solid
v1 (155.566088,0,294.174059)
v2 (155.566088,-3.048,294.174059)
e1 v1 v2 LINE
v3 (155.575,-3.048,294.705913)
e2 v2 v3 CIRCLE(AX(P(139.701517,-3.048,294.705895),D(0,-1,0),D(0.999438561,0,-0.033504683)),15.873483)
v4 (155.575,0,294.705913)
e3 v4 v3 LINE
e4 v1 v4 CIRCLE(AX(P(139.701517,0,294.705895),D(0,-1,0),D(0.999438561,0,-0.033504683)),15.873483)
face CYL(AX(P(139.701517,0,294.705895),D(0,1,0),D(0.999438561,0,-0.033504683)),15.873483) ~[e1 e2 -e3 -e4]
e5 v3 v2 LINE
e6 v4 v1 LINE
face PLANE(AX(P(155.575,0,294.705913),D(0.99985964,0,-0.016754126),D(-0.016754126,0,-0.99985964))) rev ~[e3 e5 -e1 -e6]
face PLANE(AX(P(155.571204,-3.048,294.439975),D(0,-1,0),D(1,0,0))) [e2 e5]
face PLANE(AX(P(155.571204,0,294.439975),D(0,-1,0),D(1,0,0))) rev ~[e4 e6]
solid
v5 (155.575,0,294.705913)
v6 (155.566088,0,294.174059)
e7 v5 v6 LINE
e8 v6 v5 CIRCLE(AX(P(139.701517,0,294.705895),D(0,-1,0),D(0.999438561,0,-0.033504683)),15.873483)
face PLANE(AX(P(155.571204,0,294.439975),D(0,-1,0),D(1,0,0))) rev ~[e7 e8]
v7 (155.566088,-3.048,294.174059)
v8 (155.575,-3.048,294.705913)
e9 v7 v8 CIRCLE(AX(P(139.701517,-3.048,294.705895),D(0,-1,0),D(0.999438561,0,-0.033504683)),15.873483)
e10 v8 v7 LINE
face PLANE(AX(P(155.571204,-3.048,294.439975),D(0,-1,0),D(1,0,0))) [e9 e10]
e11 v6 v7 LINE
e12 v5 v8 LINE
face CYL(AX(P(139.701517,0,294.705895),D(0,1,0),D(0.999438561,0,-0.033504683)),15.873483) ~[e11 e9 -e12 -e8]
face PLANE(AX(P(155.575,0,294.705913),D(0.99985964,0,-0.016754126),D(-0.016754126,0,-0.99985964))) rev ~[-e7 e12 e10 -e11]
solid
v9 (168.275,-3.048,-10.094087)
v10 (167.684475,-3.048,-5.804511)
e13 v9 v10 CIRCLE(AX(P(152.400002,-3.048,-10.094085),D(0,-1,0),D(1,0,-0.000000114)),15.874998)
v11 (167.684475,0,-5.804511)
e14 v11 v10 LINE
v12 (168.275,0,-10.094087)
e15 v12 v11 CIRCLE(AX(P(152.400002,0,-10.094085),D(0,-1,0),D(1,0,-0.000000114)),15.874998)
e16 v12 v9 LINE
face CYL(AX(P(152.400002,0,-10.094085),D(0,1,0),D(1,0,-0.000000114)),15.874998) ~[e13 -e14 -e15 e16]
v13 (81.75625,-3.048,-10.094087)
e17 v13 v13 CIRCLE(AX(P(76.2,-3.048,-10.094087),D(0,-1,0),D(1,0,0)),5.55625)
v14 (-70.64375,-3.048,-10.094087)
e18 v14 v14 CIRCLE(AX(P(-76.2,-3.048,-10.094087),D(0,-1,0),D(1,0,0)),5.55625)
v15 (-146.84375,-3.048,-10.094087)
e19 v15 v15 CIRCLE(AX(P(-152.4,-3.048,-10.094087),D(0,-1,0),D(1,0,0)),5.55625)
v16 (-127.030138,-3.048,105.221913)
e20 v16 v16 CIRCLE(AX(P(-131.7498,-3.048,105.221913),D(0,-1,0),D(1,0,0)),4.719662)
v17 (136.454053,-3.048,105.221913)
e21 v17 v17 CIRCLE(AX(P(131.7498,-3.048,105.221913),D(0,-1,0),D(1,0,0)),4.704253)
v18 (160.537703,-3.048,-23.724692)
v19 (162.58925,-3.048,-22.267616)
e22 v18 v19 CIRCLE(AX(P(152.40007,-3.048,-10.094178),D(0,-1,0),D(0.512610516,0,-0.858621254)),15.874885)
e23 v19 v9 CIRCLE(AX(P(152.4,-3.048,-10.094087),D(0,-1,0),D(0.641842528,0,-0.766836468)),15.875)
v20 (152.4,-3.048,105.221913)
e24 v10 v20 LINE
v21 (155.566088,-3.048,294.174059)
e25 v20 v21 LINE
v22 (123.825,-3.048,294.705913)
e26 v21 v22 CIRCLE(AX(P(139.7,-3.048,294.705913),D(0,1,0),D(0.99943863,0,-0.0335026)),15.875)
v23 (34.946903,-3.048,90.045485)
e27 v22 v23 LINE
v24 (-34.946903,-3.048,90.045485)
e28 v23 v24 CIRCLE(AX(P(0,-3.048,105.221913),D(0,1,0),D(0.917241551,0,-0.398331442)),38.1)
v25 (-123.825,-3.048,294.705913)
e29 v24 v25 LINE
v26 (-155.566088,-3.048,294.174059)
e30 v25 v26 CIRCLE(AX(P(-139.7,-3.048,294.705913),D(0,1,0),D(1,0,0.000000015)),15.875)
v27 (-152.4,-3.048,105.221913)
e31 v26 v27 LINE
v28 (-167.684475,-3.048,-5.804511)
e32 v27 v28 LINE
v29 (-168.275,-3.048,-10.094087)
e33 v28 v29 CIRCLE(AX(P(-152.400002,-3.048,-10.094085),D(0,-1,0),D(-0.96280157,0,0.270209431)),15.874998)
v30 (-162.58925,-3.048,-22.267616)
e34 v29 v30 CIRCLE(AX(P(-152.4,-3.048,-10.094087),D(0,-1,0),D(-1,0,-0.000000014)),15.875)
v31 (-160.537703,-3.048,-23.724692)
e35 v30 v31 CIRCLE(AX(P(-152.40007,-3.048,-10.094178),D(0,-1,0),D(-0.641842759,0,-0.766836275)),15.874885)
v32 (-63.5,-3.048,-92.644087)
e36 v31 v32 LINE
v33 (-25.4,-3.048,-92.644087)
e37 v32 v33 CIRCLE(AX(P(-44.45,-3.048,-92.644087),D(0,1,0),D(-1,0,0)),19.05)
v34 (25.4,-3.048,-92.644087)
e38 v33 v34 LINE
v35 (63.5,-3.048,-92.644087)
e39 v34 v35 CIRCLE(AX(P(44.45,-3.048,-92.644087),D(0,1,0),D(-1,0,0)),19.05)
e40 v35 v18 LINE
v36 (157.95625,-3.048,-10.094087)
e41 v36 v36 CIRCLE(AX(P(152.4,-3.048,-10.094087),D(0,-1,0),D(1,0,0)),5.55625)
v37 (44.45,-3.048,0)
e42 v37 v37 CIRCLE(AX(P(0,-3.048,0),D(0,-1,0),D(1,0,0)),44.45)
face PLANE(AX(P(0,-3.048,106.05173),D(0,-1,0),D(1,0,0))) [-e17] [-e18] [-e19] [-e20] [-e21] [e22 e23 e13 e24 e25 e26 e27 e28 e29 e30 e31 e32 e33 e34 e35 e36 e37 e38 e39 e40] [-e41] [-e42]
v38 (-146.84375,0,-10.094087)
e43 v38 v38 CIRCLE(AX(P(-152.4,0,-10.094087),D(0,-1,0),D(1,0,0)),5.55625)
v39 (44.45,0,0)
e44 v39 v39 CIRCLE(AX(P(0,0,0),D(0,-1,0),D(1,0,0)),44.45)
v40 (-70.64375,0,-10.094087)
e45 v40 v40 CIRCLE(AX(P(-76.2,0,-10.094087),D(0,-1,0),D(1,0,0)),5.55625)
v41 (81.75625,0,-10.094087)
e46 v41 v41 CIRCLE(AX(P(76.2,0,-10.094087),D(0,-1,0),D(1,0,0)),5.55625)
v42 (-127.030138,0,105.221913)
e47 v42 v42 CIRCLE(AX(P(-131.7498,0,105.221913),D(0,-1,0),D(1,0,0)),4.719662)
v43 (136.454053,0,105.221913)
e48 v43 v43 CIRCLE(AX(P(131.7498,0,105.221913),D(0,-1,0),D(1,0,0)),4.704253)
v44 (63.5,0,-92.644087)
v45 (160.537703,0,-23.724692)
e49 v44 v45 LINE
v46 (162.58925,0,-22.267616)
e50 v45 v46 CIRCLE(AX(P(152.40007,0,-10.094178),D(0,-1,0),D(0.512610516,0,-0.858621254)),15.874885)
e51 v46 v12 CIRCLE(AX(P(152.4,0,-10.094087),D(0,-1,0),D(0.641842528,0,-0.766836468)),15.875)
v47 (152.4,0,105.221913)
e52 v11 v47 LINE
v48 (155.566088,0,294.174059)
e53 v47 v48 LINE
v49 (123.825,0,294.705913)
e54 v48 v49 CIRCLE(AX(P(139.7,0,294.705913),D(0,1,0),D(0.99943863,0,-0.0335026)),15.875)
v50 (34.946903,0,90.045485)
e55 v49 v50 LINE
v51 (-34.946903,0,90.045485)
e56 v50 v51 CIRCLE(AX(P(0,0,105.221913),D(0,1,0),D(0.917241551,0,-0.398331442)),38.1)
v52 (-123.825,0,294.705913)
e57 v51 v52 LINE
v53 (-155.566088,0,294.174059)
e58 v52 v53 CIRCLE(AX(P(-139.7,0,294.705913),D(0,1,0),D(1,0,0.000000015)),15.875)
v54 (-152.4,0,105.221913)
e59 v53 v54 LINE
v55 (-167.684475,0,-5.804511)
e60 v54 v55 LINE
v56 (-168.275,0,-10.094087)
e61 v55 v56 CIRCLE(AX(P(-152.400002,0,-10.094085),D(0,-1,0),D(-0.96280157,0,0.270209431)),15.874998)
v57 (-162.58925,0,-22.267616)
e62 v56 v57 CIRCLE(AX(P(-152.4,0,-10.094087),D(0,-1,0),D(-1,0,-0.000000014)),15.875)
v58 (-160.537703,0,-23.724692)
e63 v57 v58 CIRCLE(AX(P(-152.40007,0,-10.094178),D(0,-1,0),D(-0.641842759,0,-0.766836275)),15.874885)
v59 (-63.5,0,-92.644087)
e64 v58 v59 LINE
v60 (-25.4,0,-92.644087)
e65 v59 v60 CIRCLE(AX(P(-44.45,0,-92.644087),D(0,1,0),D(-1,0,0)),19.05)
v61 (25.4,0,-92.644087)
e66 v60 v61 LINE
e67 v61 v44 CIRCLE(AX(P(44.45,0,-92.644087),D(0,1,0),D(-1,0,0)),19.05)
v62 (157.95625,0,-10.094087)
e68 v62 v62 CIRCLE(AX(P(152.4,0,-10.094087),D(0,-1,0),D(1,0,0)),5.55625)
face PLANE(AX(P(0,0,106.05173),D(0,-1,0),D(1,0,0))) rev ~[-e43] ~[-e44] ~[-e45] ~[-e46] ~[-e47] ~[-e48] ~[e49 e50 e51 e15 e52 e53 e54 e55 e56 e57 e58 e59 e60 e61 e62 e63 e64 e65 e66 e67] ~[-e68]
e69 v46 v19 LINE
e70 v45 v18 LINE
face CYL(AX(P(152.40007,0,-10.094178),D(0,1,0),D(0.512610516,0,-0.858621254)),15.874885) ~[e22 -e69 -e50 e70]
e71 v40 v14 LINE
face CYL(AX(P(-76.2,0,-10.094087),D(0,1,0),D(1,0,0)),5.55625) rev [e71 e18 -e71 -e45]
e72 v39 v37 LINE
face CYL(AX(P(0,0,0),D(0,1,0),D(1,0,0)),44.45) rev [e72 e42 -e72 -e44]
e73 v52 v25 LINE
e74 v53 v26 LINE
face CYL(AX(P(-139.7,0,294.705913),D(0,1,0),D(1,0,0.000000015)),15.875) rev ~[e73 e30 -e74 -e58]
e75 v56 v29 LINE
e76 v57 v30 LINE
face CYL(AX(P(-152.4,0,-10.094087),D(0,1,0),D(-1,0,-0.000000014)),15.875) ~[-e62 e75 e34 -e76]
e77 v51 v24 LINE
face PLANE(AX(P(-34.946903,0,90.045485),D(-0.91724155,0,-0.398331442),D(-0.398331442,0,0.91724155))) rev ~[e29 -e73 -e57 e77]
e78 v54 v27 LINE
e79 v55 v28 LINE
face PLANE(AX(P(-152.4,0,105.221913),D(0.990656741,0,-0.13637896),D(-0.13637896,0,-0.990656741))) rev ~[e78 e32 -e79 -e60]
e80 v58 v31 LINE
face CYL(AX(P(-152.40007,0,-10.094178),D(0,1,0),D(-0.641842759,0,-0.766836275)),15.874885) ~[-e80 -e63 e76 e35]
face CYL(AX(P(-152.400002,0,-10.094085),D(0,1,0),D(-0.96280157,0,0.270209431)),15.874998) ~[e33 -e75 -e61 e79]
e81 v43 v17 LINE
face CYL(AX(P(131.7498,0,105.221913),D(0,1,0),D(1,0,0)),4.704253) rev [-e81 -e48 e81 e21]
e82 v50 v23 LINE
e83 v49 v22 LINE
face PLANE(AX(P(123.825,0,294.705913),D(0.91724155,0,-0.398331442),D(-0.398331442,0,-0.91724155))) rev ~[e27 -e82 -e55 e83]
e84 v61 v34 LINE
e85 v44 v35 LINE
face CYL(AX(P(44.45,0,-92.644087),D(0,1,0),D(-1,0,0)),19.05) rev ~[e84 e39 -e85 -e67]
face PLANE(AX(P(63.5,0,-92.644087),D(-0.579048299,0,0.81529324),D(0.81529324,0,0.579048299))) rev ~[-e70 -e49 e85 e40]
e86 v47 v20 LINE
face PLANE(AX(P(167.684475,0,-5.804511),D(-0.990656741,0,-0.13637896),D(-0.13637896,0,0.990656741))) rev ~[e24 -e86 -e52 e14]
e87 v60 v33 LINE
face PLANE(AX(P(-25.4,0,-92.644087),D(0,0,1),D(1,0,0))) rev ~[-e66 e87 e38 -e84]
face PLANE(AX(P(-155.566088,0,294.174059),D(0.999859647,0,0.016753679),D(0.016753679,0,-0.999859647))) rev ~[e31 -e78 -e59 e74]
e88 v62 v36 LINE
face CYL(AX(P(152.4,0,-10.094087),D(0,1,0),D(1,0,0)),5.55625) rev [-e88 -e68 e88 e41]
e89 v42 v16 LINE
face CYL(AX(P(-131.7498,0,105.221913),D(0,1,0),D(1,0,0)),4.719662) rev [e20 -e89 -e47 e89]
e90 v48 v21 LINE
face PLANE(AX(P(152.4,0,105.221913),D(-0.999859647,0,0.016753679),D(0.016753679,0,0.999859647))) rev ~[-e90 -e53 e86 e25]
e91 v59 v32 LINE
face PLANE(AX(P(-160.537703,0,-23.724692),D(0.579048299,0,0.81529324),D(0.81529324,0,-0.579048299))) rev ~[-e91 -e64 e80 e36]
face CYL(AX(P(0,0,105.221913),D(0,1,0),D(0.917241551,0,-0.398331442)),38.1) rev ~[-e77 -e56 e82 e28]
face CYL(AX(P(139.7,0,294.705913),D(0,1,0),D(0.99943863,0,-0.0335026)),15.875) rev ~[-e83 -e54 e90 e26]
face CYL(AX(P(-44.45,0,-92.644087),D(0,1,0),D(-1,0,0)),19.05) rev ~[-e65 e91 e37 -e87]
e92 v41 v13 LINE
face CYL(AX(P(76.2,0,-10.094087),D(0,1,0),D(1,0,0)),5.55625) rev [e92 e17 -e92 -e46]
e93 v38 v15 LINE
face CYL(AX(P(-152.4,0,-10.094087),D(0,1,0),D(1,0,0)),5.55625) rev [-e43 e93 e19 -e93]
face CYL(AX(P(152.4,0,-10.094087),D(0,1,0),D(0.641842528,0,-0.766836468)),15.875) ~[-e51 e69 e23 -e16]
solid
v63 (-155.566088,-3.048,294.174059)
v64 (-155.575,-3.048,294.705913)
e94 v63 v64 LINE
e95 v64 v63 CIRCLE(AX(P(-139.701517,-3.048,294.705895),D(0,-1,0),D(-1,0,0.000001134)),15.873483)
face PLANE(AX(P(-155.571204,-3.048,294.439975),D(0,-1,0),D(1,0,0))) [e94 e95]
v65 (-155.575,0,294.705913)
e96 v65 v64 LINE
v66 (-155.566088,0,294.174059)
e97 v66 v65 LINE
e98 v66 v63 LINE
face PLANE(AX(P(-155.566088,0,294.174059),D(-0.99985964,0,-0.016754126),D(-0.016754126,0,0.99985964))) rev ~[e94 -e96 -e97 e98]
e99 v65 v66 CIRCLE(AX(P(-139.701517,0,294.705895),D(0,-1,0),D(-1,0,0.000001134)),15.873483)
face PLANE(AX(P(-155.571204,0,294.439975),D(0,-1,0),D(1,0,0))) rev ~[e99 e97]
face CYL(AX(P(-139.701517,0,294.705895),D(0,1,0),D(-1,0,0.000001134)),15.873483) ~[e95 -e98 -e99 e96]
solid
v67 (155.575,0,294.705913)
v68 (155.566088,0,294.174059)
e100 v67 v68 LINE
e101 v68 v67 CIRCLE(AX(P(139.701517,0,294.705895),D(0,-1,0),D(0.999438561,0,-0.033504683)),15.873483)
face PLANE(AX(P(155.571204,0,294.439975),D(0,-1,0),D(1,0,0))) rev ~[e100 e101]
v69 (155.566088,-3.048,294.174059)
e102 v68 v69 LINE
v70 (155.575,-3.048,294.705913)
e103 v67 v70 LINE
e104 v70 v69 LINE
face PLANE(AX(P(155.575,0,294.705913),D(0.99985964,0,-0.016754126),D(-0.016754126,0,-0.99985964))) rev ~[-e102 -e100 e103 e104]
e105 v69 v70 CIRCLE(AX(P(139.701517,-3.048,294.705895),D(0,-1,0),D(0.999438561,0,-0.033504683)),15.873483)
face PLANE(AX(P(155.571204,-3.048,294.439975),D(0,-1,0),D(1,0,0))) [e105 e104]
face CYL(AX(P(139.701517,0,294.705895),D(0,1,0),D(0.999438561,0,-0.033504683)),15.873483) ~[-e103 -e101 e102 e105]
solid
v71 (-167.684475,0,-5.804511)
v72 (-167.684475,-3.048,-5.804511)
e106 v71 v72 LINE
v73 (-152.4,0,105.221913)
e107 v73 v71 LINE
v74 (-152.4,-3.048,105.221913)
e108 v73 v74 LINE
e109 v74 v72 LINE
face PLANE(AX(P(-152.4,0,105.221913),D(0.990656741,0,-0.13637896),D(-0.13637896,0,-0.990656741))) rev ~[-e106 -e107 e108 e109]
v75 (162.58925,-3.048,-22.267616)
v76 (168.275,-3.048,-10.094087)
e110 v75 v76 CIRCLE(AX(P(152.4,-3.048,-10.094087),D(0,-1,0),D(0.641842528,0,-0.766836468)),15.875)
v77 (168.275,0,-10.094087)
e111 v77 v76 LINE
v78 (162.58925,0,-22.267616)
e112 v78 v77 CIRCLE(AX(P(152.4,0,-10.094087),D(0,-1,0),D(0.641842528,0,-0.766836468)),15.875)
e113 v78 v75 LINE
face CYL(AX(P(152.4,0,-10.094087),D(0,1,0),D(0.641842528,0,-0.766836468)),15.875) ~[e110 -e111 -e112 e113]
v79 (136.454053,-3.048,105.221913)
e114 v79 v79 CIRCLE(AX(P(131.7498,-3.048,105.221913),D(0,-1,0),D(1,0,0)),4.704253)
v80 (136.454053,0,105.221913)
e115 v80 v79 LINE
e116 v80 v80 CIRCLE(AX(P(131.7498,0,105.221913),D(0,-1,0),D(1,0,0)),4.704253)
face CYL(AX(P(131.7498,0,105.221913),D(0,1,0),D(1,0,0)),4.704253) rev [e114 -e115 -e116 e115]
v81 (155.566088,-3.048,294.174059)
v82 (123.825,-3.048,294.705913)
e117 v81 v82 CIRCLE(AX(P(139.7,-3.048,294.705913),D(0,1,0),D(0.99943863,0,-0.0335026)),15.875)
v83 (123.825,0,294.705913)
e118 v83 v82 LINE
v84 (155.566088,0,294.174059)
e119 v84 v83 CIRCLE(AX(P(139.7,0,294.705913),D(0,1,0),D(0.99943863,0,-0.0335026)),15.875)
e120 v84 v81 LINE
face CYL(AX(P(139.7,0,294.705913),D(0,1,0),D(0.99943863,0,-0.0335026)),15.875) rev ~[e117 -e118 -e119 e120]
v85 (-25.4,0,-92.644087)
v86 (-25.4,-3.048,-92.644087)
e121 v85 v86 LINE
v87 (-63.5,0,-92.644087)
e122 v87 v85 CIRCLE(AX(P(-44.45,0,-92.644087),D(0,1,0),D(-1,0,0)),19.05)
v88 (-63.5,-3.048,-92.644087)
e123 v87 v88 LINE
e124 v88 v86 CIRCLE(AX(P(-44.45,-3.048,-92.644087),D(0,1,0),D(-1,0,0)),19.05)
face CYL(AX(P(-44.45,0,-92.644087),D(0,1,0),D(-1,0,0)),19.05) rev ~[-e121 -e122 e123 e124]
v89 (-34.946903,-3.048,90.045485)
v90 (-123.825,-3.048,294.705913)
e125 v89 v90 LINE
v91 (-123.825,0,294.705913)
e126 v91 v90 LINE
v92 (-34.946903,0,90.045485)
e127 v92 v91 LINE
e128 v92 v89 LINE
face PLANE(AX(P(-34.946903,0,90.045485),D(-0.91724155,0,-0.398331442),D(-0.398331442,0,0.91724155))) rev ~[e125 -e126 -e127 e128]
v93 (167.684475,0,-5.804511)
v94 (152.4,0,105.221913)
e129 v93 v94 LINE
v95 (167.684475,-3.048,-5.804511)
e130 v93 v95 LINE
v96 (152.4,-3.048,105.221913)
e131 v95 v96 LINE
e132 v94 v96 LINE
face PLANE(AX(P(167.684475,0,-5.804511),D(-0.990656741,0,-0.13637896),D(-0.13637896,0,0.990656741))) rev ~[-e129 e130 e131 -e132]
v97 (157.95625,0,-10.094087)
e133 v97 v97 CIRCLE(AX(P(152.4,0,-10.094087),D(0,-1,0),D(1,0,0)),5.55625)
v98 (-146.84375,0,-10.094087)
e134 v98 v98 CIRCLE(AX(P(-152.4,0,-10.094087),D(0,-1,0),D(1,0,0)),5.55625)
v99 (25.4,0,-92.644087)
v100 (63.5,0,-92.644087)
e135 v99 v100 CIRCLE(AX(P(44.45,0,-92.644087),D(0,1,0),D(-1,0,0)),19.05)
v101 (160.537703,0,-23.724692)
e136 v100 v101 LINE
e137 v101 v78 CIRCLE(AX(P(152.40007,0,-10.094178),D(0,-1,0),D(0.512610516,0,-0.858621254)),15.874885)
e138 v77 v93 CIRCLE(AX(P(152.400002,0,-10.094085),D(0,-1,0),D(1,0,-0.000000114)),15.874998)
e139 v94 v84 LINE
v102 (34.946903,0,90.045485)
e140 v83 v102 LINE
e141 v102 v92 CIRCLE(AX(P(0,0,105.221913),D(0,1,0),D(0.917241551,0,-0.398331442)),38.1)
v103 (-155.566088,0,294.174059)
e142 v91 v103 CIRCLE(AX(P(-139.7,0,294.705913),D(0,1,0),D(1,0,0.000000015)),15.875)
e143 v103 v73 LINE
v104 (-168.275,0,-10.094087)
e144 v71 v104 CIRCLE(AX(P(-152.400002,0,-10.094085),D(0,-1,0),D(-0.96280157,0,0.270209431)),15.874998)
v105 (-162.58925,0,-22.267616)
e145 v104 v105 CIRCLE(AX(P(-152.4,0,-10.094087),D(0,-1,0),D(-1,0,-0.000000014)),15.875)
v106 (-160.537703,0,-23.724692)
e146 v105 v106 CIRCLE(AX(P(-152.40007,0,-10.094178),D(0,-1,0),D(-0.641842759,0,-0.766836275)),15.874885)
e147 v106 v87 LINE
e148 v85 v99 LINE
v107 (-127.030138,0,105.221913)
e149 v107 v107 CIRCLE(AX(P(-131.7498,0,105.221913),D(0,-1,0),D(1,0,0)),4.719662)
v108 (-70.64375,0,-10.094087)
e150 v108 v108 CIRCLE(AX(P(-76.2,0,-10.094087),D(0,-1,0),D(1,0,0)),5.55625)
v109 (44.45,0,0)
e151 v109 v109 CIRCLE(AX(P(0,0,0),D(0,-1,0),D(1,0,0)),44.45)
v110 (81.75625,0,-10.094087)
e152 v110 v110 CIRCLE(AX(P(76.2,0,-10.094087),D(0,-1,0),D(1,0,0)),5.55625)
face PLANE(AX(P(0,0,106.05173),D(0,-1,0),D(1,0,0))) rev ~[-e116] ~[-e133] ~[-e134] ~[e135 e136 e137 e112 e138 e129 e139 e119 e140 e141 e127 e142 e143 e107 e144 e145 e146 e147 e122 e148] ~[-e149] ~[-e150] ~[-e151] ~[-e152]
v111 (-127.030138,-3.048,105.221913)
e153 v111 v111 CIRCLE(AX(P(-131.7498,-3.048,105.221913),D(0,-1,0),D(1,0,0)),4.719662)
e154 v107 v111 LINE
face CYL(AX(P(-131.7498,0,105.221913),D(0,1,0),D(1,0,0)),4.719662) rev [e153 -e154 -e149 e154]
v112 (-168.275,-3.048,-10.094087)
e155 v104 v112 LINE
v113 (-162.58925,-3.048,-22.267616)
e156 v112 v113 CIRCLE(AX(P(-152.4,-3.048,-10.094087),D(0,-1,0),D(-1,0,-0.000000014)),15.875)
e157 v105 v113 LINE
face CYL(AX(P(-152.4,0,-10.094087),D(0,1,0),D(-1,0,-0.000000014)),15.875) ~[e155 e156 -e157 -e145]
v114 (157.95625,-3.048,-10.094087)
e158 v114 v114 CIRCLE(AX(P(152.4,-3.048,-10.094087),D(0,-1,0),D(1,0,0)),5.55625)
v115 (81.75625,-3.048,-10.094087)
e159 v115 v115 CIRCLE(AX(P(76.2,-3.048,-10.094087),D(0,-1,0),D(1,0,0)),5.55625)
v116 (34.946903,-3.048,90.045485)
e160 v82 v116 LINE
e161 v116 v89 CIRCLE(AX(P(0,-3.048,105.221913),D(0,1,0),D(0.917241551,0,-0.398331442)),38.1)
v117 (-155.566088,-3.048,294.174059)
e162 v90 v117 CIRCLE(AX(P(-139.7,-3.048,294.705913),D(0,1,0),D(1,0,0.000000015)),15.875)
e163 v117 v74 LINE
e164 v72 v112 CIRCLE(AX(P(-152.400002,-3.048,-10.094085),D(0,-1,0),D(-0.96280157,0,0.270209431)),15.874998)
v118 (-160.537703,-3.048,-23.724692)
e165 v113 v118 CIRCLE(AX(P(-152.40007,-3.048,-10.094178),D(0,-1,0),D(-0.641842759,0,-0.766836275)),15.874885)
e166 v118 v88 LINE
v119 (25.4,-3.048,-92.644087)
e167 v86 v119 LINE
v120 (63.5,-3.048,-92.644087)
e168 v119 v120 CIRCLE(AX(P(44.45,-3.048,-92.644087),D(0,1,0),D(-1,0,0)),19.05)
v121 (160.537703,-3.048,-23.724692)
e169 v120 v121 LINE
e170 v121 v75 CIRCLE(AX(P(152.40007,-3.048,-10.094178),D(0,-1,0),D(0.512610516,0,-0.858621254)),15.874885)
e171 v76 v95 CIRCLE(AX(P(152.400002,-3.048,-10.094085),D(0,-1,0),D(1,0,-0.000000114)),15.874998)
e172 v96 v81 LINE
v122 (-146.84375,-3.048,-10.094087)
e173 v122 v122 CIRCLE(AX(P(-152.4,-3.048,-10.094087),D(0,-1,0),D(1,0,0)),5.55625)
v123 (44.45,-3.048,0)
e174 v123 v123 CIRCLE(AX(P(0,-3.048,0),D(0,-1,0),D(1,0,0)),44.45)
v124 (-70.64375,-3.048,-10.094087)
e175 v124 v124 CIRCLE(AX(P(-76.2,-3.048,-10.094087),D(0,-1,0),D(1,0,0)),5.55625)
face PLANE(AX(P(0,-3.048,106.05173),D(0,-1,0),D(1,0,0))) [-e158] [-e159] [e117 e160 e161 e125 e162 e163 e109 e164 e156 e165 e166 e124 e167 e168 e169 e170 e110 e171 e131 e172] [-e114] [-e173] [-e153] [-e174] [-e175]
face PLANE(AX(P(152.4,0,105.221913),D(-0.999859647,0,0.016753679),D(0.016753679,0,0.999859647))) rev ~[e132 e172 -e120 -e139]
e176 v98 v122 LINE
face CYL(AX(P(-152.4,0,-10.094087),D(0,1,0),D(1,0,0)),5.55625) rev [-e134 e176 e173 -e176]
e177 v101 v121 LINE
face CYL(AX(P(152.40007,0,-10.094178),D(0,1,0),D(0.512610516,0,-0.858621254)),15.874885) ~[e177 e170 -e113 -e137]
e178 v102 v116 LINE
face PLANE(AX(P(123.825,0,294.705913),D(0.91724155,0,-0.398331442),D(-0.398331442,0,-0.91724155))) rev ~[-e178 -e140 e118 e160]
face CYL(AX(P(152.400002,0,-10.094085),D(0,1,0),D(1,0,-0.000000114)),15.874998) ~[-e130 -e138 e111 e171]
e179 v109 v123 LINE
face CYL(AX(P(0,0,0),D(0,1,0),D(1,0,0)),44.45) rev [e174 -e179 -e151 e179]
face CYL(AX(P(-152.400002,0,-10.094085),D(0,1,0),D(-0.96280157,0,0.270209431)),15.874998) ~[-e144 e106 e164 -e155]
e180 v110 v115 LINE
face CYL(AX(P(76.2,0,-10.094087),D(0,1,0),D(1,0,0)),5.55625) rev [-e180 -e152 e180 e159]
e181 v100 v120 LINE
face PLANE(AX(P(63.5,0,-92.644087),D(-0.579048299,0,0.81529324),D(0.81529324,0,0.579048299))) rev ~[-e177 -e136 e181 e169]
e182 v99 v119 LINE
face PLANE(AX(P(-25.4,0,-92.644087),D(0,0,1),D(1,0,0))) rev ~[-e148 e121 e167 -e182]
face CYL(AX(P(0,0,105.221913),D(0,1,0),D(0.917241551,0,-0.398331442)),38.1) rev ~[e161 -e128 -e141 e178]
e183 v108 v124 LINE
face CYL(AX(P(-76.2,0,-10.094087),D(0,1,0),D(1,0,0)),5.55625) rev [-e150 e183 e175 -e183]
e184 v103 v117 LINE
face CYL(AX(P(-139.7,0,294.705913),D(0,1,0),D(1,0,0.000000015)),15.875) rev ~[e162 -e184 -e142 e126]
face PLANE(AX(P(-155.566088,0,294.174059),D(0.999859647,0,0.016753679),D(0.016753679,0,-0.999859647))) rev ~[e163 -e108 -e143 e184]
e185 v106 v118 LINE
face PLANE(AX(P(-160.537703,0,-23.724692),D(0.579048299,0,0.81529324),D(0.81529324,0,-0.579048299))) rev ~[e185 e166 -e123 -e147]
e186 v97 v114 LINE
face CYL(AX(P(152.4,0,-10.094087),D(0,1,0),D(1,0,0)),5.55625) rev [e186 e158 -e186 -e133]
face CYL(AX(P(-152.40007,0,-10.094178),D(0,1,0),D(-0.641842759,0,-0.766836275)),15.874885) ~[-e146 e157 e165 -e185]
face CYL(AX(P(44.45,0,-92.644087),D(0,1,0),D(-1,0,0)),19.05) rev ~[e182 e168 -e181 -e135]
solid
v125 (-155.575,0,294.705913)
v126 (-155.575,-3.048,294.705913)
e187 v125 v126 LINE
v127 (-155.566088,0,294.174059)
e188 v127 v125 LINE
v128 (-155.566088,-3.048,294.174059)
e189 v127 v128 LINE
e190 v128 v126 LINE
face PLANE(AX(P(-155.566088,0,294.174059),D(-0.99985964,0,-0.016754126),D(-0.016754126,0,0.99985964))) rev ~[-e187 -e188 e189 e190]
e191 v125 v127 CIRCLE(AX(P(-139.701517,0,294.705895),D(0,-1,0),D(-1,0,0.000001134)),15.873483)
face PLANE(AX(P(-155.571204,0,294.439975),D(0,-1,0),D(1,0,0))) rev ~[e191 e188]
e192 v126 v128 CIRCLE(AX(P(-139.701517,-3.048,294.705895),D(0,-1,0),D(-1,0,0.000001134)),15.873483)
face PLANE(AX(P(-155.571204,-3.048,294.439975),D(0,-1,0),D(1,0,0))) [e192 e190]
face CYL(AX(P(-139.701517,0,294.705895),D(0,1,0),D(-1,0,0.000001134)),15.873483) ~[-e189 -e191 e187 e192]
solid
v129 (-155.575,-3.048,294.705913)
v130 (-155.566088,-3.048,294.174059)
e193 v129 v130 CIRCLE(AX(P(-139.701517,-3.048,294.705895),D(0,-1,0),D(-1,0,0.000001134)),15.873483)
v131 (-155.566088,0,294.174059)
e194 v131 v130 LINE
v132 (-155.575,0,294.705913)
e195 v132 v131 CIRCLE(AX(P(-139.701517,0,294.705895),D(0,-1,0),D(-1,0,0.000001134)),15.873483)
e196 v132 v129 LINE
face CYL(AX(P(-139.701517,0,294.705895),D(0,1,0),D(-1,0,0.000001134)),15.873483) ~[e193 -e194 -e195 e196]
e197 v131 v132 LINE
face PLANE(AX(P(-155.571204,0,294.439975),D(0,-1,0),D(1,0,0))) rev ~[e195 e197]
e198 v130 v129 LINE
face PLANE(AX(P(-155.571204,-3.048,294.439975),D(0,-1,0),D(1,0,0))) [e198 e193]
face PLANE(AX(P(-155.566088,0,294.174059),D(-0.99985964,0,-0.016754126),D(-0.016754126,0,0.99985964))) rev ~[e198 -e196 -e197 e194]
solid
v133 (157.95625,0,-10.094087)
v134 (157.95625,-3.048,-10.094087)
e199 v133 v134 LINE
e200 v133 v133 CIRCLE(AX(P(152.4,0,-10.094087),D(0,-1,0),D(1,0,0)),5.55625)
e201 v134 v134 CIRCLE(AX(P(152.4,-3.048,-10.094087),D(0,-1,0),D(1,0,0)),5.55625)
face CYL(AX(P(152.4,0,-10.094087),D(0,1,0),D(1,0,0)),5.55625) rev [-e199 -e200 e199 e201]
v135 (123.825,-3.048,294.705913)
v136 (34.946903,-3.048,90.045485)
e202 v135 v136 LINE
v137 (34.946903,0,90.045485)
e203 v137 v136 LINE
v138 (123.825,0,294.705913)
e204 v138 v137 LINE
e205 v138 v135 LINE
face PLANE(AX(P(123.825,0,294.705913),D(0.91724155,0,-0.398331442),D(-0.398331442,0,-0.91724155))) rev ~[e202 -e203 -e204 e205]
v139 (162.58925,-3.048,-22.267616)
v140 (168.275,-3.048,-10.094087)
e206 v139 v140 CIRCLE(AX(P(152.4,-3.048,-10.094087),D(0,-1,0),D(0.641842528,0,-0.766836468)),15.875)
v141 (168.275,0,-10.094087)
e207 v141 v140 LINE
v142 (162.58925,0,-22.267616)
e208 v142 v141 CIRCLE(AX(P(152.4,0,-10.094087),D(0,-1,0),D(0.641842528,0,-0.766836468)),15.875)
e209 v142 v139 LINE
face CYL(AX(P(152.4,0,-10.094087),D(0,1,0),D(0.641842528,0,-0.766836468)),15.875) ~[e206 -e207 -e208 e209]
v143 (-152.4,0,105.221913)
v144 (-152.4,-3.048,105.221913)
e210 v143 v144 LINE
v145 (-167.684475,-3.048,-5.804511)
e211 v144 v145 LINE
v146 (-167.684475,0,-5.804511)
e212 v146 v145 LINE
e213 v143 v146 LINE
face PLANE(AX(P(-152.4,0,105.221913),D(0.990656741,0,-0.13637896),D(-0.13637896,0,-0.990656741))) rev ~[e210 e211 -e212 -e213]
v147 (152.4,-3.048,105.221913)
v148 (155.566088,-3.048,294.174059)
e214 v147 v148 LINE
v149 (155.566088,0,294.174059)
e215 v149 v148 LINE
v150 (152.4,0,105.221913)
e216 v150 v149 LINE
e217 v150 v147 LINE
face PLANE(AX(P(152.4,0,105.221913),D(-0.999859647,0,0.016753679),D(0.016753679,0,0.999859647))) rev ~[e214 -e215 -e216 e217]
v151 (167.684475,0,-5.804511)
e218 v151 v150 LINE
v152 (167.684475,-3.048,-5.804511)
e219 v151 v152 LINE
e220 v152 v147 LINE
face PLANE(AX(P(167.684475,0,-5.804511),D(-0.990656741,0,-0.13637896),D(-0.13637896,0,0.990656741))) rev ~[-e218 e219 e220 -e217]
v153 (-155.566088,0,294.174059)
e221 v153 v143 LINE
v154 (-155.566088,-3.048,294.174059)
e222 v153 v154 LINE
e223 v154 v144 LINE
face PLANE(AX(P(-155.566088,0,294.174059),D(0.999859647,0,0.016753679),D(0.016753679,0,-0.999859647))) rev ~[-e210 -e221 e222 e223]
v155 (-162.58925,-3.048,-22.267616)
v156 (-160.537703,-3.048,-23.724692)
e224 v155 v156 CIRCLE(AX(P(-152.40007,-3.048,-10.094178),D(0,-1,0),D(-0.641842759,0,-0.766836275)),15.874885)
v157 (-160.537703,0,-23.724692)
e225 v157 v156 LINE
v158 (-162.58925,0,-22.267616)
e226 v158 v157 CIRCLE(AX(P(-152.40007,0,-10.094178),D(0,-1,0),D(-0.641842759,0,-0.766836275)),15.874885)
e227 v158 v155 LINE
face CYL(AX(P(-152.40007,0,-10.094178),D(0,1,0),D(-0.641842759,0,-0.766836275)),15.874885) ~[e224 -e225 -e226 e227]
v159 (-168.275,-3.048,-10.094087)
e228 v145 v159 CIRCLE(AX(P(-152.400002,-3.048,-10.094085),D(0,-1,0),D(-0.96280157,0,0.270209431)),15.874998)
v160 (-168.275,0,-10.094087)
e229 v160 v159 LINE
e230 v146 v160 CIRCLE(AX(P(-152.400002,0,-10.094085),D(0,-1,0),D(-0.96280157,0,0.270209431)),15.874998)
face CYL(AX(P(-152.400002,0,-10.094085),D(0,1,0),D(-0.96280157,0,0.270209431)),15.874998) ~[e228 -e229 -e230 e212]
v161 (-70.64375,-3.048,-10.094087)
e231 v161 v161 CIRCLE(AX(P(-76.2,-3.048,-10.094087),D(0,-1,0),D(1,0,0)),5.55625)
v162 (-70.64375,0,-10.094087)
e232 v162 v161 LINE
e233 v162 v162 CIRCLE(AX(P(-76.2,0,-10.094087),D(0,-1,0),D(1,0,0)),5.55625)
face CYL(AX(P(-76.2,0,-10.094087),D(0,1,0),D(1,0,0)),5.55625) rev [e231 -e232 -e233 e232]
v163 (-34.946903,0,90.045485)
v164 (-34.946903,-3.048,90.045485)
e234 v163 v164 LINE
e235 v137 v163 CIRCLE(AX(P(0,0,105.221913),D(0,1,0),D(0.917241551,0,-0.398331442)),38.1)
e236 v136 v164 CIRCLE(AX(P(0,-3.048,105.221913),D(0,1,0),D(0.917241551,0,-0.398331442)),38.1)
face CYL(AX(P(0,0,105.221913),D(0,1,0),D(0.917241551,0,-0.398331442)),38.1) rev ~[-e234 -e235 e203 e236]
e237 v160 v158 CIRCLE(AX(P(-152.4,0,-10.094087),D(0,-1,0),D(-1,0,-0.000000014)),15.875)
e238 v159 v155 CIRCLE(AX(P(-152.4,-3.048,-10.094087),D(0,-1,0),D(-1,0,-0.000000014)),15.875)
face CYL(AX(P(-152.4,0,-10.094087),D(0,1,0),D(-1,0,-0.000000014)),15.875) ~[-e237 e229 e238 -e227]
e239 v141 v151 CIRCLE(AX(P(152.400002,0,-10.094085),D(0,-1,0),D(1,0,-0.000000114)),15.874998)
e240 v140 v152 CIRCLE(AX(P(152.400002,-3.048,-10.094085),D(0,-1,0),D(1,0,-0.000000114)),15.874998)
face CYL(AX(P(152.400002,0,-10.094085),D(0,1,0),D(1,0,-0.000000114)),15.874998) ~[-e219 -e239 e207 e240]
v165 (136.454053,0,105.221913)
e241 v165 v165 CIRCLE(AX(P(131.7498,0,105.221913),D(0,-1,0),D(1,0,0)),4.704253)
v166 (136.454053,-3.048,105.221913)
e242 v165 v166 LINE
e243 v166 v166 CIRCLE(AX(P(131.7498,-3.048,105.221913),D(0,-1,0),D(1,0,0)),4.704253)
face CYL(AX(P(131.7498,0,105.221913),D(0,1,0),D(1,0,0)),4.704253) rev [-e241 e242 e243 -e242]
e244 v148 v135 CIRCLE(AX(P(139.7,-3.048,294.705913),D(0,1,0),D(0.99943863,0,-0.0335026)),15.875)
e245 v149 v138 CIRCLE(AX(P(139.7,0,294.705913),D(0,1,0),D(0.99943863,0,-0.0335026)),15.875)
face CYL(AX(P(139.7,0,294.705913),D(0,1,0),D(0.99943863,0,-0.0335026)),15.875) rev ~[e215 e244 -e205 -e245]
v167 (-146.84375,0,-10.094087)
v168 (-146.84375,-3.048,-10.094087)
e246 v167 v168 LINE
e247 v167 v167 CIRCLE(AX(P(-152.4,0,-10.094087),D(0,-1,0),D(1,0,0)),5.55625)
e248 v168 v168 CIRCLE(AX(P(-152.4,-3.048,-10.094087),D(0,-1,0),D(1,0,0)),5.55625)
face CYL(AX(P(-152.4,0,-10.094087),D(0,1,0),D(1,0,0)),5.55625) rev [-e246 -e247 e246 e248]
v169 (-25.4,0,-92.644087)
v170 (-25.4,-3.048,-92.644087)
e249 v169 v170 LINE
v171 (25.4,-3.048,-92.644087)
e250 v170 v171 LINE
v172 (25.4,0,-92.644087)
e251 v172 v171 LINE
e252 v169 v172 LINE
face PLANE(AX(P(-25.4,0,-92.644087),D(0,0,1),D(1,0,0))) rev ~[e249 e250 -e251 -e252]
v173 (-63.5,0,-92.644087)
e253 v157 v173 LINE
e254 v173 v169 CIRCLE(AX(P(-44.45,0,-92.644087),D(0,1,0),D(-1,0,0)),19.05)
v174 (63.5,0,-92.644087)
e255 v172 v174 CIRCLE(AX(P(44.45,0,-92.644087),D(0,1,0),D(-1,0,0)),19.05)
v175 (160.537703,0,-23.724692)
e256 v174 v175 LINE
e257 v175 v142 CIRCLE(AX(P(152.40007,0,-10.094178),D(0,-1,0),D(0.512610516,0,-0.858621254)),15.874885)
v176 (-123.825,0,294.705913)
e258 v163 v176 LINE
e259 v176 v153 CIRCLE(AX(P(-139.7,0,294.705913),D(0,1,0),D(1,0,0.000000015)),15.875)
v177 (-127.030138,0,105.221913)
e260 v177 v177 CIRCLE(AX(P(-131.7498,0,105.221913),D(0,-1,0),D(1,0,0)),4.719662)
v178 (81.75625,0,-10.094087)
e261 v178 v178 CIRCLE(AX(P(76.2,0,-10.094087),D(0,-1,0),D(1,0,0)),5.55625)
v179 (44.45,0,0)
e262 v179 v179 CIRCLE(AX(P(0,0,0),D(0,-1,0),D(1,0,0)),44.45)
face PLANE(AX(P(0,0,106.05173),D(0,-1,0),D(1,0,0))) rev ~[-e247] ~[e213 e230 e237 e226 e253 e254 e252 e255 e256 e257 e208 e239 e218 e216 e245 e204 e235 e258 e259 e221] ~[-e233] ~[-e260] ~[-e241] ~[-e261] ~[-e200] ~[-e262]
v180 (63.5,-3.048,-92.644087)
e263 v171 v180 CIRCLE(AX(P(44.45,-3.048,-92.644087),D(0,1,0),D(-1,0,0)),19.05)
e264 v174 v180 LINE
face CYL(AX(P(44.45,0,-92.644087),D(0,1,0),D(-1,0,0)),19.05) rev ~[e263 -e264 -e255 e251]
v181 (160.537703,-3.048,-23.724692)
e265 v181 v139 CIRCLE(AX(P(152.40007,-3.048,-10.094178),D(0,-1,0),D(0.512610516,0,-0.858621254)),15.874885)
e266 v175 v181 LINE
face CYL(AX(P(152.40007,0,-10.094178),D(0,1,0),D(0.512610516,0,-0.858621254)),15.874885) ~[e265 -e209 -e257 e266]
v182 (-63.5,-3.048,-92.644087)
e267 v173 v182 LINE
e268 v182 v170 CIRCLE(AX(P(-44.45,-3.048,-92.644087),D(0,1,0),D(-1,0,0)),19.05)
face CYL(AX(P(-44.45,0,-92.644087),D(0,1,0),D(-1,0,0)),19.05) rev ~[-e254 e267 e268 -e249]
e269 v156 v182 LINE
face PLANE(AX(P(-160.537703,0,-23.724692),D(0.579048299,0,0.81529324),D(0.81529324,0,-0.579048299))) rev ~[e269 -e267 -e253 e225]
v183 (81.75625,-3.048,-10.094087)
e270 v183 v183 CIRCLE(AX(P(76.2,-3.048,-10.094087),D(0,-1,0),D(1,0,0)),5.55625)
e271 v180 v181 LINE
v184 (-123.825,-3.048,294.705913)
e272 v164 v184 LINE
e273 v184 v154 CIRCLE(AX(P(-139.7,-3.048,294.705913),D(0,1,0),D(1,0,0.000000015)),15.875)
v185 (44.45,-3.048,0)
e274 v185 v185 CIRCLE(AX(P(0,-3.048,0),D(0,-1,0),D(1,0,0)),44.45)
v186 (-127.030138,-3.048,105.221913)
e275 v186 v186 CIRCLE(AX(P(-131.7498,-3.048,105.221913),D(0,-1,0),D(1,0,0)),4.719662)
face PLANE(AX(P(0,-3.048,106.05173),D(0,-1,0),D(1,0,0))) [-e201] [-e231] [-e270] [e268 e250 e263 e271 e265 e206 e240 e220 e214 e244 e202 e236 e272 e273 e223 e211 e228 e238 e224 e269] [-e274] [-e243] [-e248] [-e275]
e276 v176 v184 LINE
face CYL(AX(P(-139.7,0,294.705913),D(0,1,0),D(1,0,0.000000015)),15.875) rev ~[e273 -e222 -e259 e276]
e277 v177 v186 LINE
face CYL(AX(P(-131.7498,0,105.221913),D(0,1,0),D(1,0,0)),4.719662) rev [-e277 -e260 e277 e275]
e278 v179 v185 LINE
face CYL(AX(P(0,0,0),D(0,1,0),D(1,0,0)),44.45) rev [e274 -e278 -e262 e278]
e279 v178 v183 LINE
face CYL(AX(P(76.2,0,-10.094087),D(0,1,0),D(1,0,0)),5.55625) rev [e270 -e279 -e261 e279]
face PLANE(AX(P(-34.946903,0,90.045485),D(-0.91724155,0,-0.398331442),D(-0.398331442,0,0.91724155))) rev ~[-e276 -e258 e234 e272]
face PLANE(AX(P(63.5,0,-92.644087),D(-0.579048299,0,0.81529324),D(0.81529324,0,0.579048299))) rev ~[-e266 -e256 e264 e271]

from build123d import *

# Parameters (mm, degrees)
F0_R     = 5.55625
F0_R_2   = 44.45
F0_R_3   = 4.719662
F0_R_4   = 4.704253
F1_DEPTH = 3.048
F2_DEPTH = 3.048
F3_DEPTH = 3.048


with BuildPart() as f1:
    # F0 (on Front) → F1 (new body)
    with BuildSketch(Plane.XZ):
        with BuildLine():
            ThreePointArc((-155.575, 294.705913), (-155.572772, 294.439949), (-155.566088, 294.174059))
            Line((-155.566088, 294.174059), (-155.575, 294.705913))
        make_face()
        with BuildLine():
            Line((155.575, 294.705913), (155.566088, 294.174059))
            ThreePointArc((155.566088, 294.174059), (155.572772, 294.439949), (155.575, 294.705913))
        make_face()
        with BuildLine():
            ThreePointArc((-63.5, -92.644087), (-44.45, -73.594087), (-25.4, -92.644087))
            Line((-25.4, -92.644087), (25.4, -92.644087))
            ThreePointArc((25.4, -92.644087), (44.45, -73.594087), (63.5, -92.644087))
            Line((63.5, -92.644087), (160.537703, -23.724692))
            Line((160.537703, -23.724692), (162.58925, -22.267616))
            ThreePointArc((162.58925, -22.267616), (166.783497, -16.812021), (168.275, -10.094087))
            Line((168.275, -10.094087), (167.684475, -5.804511))
            Line((167.684475, -5.804511), (152.4, 105.221913))
            Line((152.4, 105.221913), (155.566088, 294.174059))
            ThreePointArc((155.566088, 294.174059), (139.434035, 278.833141), (123.825, 294.705913))
            Line((123.825, 294.705913), (34.946903, 90.045485))
            ThreePointArc((34.946903, 90.045485), (0, 67.121913), (-34.946903, 90.045485))
            Line((-34.946903, 90.045485), (-123.825, 294.705913))
            ThreePointArc((-123.825, 294.705913), (-139.434035, 278.833141), (-155.566088, 294.174059))
            Line((-155.566088, 294.174059), (-152.4, 105.221913))
            Line((-152.4, 105.221913), (-167.684475, -5.804511))
            Line((-167.684475, -5.804511), (-168.275, -10.094087))
            ThreePointArc((-168.275, -10.094087), (-166.783497, -16.812021), (-162.58925, -22.267616))
            Line((-162.58925, -22.267616), (-160.537703, -23.724692))
            Line((-160.537703, -23.724692), (-63.5, -92.644087))
        make_face()
        with Locations((-152.4, -10.094087)):
            Circle(F0_R, mode=Mode.SUBTRACT)
        with Locations((-76.2, -10.094087)):
            Circle(F0_R, mode=Mode.SUBTRACT)
        Circle(F0_R_2, mode=Mode.SUBTRACT)
        with Locations((76.2, -10.094087)):
            Circle(F0_R, mode=Mode.SUBTRACT)
        with Locations((152.4, -10.094087)):
            Circle(F0_R, mode=Mode.SUBTRACT)
        with Locations((-131.7498, 105.221913)):
            Circle(F0_R_3, mode=Mode.SUBTRACT)
        with Locations((131.7498, 105.221913)):
            Circle(F0_R_4, mode=Mode.SUBTRACT)
        with BuildLine():
            ThreePointArc((-162.58925, -22.267616), (-161.592392, -23.036867), (-160.537703, -23.724692))
            Line((-160.537703, -23.724692), (-162.58925, -22.267616))
        make_face()
        with BuildLine():
            Line((162.58925, -22.267616), (160.537703, -23.724692))
            ThreePointArc((160.537703, -23.724692), (161.592392, -23.036867), (162.58925, -22.267616))
        make_face()
        with BuildLine():
            ThreePointArc((-167.684475, -5.804511), (-168.126676, -7.929071), (-168.275, -10.094087))
            Line((-168.275, -10.094087), (-167.684475, -5.804511))
        make_face()
        with BuildLine():
            Line((167.684475, -5.804511), (168.275, -10.094087))
            ThreePointArc((168.275, -10.094087), (168.126676, -7.929071), (167.684475, -5.804511))
        make_face()
    extrude(amount=F1_DEPTH)


with BuildPart() as f2:
    # F0 (on Front) → F2 (new body)
    with BuildSketch(Plane.XZ):
        with BuildLine():
            ThreePointArc((-155.575, 294.705913), (-155.572772, 294.439949), (-155.566088, 294.174059))
            Line((-155.566088, 294.174059), (-155.575, 294.705913))
        make_face()
        with BuildLine():
            Line((155.575, 294.705913), (155.566088, 294.174059))
            ThreePointArc((155.566088, 294.174059), (155.572772, 294.439949), (155.575, 294.705913))
        make_face()
        with BuildLine():
            ThreePointArc((-63.5, -92.644087), (-44.45, -73.594087), (-25.4, -92.644087))
            Line((-25.4, -92.644087), (25.4, -92.644087))
            ThreePointArc((25.4, -92.644087), (44.45, -73.594087), (63.5, -92.644087))
            Line((63.5, -92.644087), (160.537703, -23.724692))
            Line((160.537703, -23.724692), (162.58925, -22.267616))
            ThreePointArc((162.58925, -22.267616), (166.783497, -16.812021), (168.275, -10.094087))
            Line((168.275, -10.094087), (167.684475, -5.804511))
            Line((167.684475, -5.804511), (152.4, 105.221913))
            Line((152.4, 105.221913), (155.566088, 294.174059))
            ThreePointArc((155.566088, 294.174059), (139.434035, 278.833141), (123.825, 294.705913))
            Line((123.825, 294.705913), (34.946903, 90.045485))
            ThreePointArc((34.946903, 90.045485), (0, 67.121913), (-34.946903, 90.045485))
            Line((-34.946903, 90.045485), (-123.825, 294.705913))
            ThreePointArc((-123.825, 294.705913), (-139.434035, 278.833141), (-155.566088, 294.174059))
            Line((-155.566088, 294.174059), (-152.4, 105.221913))
            Line((-152.4, 105.221913), (-167.684475, -5.804511))
            Line((-167.684475, -5.804511), (-168.275, -10.094087))
            ThreePointArc((-168.275, -10.094087), (-166.783497, -16.812021), (-162.58925, -22.267616))
            Line((-162.58925, -22.267616), (-160.537703, -23.724692))
            Line((-160.537703, -23.724692), (-63.5, -92.644087))
        make_face()
        with Locations((-152.4, -10.094087)):
            Circle(F0_R, mode=Mode.SUBTRACT)
        with Locations((-76.2, -10.094087)):
            Circle(F0_R, mode=Mode.SUBTRACT)
        Circle(F0_R_2, mode=Mode.SUBTRACT)
        with Locations((76.2, -10.094087)):
            Circle(F0_R, mode=Mode.SUBTRACT)
        with Locations((152.4, -10.094087)):
            Circle(F0_R, mode=Mode.SUBTRACT)
        with Locations((-131.7498, 105.221913)):
            Circle(F0_R_3, mode=Mode.SUBTRACT)
        with Locations((131.7498, 105.221913)):
            Circle(F0_R_4, mode=Mode.SUBTRACT)
        with BuildLine():
            ThreePointArc((-162.58925, -22.267616), (-161.592392, -23.036867), (-160.537703, -23.724692))
            Line((-160.537703, -23.724692), (-162.58925, -22.267616))
        make_face()
        with BuildLine():
            Line((162.58925, -22.267616), (160.537703, -23.724692))
            ThreePointArc((160.537703, -23.724692), (161.592392, -23.036867), (162.58925, -22.267616))
        make_face()
        with BuildLine():
            ThreePointArc((-167.684475, -5.804511), (-168.126676, -7.929071), (-168.275, -10.094087))
            Line((-168.275, -10.094087), (-167.684475, -5.804511))
        make_face()
        with BuildLine():
            Line((167.684475, -5.804511), (168.275, -10.094087))
            ThreePointArc((168.275, -10.094087), (168.126676, -7.929071), (167.684475, -5.804511))
        make_face()
    extrude(amount=F2_DEPTH)


with BuildPart() as f3:
    # F0 (on Front) → F3 (new body)
    with BuildSketch(Plane.XZ):
        with BuildLine():
            ThreePointArc((-155.575, 294.705913), (-155.572772, 294.439949), (-155.566088, 294.174059))
            Line((-155.566088, 294.174059), (-155.575, 294.705913))
        make_face()
        with BuildLine():
            Line((155.575, 294.705913), (155.566088, 294.174059))
            ThreePointArc((155.566088, 294.174059), (155.572772, 294.439949), (155.575, 294.705913))
        make_face()
        with BuildLine():
            ThreePointArc((-63.5, -92.644087), (-44.45, -73.594087), (-25.4, -92.644087))
            Line((-25.4, -92.644087), (25.4, -92.644087))
            ThreePointArc((25.4, -92.644087), (44.45, -73.594087), (63.5, -92.644087))
            Line((63.5, -92.644087), (160.537703, -23.724692))
            Line((160.537703, -23.724692), (162.58925, -22.267616))
            ThreePointArc((162.58925, -22.267616), (166.783497, -16.812021), (168.275, -10.094087))
            Line((168.275, -10.094087), (167.684475, -5.804511))
            Line((167.684475, -5.804511), (152.4, 105.221913))
            Line((152.4, 105.221913), (155.566088, 294.174059))
            ThreePointArc((155.566088, 294.174059), (139.434035, 278.833141), (123.825, 294.705913))
            Line((123.825, 294.705913), (34.946903, 90.045485))
            ThreePointArc((34.946903, 90.045485), (0, 67.121913), (-34.946903, 90.045485))
            Line((-34.946903, 90.045485), (-123.825, 294.705913))
            ThreePointArc((-123.825, 294.705913), (-139.434035, 278.833141), (-155.566088, 294.174059))
            Line((-155.566088, 294.174059), (-152.4, 105.221913))
            Line((-152.4, 105.221913), (-167.684475, -5.804511))
            Line((-167.684475, -5.804511), (-168.275, -10.094087))
            ThreePointArc((-168.275, -10.094087), (-166.783497, -16.812021), (-162.58925, -22.267616))
            Line((-162.58925, -22.267616), (-160.537703, -23.724692))
            Line((-160.537703, -23.724692), (-63.5, -92.644087))
        make_face()
        with Locations((-152.4, -10.094087)):
            Circle(F0_R, mode=Mode.SUBTRACT)
        with Locations((-76.2, -10.094087)):
            Circle(F0_R, mode=Mode.SUBTRACT)
        Circle(F0_R_2, mode=Mode.SUBTRACT)
        with Locations((76.2, -10.094087)):
            Circle(F0_R, mode=Mode.SUBTRACT)
        with Locations((152.4, -10.094087)):
            Circle(F0_R, mode=Mode.SUBTRACT)
        with Locations((-131.7498, 105.221913)):
            Circle(F0_R_3, mode=Mode.SUBTRACT)
        with Locations((131.7498, 105.221913)):
            Circle(F0_R_4, mode=Mode.SUBTRACT)
        with BuildLine():
            ThreePointArc((-162.58925, -22.267616), (-161.592392, -23.036867), (-160.537703, -23.724692))
            Line((-160.537703, -23.724692), (-162.58925, -22.267616))
        make_face()
        with BuildLine():
            Line((162.58925, -22.267616), (160.537703, -23.724692))
            ThreePointArc((160.537703, -23.724692), (161.592392, -23.036867), (162.58925, -22.267616))
        make_face()
        with BuildLine():
            ThreePointArc((-167.684475, -5.804511), (-168.126676, -7.929071), (-168.275, -10.094087))
            Line((-168.275, -10.094087), (-167.684475, -5.804511))
        make_face()
        with BuildLine():
            Line((167.684475, -5.804511), (168.275, -10.094087))
            ThreePointArc((168.275, -10.094087), (168.126676, -7.929071), (167.684475, -5.804511))
        make_face()
    extrude(amount=F3_DEPTH)


solid = Compound([f1.part, f2.part, f3.part])
